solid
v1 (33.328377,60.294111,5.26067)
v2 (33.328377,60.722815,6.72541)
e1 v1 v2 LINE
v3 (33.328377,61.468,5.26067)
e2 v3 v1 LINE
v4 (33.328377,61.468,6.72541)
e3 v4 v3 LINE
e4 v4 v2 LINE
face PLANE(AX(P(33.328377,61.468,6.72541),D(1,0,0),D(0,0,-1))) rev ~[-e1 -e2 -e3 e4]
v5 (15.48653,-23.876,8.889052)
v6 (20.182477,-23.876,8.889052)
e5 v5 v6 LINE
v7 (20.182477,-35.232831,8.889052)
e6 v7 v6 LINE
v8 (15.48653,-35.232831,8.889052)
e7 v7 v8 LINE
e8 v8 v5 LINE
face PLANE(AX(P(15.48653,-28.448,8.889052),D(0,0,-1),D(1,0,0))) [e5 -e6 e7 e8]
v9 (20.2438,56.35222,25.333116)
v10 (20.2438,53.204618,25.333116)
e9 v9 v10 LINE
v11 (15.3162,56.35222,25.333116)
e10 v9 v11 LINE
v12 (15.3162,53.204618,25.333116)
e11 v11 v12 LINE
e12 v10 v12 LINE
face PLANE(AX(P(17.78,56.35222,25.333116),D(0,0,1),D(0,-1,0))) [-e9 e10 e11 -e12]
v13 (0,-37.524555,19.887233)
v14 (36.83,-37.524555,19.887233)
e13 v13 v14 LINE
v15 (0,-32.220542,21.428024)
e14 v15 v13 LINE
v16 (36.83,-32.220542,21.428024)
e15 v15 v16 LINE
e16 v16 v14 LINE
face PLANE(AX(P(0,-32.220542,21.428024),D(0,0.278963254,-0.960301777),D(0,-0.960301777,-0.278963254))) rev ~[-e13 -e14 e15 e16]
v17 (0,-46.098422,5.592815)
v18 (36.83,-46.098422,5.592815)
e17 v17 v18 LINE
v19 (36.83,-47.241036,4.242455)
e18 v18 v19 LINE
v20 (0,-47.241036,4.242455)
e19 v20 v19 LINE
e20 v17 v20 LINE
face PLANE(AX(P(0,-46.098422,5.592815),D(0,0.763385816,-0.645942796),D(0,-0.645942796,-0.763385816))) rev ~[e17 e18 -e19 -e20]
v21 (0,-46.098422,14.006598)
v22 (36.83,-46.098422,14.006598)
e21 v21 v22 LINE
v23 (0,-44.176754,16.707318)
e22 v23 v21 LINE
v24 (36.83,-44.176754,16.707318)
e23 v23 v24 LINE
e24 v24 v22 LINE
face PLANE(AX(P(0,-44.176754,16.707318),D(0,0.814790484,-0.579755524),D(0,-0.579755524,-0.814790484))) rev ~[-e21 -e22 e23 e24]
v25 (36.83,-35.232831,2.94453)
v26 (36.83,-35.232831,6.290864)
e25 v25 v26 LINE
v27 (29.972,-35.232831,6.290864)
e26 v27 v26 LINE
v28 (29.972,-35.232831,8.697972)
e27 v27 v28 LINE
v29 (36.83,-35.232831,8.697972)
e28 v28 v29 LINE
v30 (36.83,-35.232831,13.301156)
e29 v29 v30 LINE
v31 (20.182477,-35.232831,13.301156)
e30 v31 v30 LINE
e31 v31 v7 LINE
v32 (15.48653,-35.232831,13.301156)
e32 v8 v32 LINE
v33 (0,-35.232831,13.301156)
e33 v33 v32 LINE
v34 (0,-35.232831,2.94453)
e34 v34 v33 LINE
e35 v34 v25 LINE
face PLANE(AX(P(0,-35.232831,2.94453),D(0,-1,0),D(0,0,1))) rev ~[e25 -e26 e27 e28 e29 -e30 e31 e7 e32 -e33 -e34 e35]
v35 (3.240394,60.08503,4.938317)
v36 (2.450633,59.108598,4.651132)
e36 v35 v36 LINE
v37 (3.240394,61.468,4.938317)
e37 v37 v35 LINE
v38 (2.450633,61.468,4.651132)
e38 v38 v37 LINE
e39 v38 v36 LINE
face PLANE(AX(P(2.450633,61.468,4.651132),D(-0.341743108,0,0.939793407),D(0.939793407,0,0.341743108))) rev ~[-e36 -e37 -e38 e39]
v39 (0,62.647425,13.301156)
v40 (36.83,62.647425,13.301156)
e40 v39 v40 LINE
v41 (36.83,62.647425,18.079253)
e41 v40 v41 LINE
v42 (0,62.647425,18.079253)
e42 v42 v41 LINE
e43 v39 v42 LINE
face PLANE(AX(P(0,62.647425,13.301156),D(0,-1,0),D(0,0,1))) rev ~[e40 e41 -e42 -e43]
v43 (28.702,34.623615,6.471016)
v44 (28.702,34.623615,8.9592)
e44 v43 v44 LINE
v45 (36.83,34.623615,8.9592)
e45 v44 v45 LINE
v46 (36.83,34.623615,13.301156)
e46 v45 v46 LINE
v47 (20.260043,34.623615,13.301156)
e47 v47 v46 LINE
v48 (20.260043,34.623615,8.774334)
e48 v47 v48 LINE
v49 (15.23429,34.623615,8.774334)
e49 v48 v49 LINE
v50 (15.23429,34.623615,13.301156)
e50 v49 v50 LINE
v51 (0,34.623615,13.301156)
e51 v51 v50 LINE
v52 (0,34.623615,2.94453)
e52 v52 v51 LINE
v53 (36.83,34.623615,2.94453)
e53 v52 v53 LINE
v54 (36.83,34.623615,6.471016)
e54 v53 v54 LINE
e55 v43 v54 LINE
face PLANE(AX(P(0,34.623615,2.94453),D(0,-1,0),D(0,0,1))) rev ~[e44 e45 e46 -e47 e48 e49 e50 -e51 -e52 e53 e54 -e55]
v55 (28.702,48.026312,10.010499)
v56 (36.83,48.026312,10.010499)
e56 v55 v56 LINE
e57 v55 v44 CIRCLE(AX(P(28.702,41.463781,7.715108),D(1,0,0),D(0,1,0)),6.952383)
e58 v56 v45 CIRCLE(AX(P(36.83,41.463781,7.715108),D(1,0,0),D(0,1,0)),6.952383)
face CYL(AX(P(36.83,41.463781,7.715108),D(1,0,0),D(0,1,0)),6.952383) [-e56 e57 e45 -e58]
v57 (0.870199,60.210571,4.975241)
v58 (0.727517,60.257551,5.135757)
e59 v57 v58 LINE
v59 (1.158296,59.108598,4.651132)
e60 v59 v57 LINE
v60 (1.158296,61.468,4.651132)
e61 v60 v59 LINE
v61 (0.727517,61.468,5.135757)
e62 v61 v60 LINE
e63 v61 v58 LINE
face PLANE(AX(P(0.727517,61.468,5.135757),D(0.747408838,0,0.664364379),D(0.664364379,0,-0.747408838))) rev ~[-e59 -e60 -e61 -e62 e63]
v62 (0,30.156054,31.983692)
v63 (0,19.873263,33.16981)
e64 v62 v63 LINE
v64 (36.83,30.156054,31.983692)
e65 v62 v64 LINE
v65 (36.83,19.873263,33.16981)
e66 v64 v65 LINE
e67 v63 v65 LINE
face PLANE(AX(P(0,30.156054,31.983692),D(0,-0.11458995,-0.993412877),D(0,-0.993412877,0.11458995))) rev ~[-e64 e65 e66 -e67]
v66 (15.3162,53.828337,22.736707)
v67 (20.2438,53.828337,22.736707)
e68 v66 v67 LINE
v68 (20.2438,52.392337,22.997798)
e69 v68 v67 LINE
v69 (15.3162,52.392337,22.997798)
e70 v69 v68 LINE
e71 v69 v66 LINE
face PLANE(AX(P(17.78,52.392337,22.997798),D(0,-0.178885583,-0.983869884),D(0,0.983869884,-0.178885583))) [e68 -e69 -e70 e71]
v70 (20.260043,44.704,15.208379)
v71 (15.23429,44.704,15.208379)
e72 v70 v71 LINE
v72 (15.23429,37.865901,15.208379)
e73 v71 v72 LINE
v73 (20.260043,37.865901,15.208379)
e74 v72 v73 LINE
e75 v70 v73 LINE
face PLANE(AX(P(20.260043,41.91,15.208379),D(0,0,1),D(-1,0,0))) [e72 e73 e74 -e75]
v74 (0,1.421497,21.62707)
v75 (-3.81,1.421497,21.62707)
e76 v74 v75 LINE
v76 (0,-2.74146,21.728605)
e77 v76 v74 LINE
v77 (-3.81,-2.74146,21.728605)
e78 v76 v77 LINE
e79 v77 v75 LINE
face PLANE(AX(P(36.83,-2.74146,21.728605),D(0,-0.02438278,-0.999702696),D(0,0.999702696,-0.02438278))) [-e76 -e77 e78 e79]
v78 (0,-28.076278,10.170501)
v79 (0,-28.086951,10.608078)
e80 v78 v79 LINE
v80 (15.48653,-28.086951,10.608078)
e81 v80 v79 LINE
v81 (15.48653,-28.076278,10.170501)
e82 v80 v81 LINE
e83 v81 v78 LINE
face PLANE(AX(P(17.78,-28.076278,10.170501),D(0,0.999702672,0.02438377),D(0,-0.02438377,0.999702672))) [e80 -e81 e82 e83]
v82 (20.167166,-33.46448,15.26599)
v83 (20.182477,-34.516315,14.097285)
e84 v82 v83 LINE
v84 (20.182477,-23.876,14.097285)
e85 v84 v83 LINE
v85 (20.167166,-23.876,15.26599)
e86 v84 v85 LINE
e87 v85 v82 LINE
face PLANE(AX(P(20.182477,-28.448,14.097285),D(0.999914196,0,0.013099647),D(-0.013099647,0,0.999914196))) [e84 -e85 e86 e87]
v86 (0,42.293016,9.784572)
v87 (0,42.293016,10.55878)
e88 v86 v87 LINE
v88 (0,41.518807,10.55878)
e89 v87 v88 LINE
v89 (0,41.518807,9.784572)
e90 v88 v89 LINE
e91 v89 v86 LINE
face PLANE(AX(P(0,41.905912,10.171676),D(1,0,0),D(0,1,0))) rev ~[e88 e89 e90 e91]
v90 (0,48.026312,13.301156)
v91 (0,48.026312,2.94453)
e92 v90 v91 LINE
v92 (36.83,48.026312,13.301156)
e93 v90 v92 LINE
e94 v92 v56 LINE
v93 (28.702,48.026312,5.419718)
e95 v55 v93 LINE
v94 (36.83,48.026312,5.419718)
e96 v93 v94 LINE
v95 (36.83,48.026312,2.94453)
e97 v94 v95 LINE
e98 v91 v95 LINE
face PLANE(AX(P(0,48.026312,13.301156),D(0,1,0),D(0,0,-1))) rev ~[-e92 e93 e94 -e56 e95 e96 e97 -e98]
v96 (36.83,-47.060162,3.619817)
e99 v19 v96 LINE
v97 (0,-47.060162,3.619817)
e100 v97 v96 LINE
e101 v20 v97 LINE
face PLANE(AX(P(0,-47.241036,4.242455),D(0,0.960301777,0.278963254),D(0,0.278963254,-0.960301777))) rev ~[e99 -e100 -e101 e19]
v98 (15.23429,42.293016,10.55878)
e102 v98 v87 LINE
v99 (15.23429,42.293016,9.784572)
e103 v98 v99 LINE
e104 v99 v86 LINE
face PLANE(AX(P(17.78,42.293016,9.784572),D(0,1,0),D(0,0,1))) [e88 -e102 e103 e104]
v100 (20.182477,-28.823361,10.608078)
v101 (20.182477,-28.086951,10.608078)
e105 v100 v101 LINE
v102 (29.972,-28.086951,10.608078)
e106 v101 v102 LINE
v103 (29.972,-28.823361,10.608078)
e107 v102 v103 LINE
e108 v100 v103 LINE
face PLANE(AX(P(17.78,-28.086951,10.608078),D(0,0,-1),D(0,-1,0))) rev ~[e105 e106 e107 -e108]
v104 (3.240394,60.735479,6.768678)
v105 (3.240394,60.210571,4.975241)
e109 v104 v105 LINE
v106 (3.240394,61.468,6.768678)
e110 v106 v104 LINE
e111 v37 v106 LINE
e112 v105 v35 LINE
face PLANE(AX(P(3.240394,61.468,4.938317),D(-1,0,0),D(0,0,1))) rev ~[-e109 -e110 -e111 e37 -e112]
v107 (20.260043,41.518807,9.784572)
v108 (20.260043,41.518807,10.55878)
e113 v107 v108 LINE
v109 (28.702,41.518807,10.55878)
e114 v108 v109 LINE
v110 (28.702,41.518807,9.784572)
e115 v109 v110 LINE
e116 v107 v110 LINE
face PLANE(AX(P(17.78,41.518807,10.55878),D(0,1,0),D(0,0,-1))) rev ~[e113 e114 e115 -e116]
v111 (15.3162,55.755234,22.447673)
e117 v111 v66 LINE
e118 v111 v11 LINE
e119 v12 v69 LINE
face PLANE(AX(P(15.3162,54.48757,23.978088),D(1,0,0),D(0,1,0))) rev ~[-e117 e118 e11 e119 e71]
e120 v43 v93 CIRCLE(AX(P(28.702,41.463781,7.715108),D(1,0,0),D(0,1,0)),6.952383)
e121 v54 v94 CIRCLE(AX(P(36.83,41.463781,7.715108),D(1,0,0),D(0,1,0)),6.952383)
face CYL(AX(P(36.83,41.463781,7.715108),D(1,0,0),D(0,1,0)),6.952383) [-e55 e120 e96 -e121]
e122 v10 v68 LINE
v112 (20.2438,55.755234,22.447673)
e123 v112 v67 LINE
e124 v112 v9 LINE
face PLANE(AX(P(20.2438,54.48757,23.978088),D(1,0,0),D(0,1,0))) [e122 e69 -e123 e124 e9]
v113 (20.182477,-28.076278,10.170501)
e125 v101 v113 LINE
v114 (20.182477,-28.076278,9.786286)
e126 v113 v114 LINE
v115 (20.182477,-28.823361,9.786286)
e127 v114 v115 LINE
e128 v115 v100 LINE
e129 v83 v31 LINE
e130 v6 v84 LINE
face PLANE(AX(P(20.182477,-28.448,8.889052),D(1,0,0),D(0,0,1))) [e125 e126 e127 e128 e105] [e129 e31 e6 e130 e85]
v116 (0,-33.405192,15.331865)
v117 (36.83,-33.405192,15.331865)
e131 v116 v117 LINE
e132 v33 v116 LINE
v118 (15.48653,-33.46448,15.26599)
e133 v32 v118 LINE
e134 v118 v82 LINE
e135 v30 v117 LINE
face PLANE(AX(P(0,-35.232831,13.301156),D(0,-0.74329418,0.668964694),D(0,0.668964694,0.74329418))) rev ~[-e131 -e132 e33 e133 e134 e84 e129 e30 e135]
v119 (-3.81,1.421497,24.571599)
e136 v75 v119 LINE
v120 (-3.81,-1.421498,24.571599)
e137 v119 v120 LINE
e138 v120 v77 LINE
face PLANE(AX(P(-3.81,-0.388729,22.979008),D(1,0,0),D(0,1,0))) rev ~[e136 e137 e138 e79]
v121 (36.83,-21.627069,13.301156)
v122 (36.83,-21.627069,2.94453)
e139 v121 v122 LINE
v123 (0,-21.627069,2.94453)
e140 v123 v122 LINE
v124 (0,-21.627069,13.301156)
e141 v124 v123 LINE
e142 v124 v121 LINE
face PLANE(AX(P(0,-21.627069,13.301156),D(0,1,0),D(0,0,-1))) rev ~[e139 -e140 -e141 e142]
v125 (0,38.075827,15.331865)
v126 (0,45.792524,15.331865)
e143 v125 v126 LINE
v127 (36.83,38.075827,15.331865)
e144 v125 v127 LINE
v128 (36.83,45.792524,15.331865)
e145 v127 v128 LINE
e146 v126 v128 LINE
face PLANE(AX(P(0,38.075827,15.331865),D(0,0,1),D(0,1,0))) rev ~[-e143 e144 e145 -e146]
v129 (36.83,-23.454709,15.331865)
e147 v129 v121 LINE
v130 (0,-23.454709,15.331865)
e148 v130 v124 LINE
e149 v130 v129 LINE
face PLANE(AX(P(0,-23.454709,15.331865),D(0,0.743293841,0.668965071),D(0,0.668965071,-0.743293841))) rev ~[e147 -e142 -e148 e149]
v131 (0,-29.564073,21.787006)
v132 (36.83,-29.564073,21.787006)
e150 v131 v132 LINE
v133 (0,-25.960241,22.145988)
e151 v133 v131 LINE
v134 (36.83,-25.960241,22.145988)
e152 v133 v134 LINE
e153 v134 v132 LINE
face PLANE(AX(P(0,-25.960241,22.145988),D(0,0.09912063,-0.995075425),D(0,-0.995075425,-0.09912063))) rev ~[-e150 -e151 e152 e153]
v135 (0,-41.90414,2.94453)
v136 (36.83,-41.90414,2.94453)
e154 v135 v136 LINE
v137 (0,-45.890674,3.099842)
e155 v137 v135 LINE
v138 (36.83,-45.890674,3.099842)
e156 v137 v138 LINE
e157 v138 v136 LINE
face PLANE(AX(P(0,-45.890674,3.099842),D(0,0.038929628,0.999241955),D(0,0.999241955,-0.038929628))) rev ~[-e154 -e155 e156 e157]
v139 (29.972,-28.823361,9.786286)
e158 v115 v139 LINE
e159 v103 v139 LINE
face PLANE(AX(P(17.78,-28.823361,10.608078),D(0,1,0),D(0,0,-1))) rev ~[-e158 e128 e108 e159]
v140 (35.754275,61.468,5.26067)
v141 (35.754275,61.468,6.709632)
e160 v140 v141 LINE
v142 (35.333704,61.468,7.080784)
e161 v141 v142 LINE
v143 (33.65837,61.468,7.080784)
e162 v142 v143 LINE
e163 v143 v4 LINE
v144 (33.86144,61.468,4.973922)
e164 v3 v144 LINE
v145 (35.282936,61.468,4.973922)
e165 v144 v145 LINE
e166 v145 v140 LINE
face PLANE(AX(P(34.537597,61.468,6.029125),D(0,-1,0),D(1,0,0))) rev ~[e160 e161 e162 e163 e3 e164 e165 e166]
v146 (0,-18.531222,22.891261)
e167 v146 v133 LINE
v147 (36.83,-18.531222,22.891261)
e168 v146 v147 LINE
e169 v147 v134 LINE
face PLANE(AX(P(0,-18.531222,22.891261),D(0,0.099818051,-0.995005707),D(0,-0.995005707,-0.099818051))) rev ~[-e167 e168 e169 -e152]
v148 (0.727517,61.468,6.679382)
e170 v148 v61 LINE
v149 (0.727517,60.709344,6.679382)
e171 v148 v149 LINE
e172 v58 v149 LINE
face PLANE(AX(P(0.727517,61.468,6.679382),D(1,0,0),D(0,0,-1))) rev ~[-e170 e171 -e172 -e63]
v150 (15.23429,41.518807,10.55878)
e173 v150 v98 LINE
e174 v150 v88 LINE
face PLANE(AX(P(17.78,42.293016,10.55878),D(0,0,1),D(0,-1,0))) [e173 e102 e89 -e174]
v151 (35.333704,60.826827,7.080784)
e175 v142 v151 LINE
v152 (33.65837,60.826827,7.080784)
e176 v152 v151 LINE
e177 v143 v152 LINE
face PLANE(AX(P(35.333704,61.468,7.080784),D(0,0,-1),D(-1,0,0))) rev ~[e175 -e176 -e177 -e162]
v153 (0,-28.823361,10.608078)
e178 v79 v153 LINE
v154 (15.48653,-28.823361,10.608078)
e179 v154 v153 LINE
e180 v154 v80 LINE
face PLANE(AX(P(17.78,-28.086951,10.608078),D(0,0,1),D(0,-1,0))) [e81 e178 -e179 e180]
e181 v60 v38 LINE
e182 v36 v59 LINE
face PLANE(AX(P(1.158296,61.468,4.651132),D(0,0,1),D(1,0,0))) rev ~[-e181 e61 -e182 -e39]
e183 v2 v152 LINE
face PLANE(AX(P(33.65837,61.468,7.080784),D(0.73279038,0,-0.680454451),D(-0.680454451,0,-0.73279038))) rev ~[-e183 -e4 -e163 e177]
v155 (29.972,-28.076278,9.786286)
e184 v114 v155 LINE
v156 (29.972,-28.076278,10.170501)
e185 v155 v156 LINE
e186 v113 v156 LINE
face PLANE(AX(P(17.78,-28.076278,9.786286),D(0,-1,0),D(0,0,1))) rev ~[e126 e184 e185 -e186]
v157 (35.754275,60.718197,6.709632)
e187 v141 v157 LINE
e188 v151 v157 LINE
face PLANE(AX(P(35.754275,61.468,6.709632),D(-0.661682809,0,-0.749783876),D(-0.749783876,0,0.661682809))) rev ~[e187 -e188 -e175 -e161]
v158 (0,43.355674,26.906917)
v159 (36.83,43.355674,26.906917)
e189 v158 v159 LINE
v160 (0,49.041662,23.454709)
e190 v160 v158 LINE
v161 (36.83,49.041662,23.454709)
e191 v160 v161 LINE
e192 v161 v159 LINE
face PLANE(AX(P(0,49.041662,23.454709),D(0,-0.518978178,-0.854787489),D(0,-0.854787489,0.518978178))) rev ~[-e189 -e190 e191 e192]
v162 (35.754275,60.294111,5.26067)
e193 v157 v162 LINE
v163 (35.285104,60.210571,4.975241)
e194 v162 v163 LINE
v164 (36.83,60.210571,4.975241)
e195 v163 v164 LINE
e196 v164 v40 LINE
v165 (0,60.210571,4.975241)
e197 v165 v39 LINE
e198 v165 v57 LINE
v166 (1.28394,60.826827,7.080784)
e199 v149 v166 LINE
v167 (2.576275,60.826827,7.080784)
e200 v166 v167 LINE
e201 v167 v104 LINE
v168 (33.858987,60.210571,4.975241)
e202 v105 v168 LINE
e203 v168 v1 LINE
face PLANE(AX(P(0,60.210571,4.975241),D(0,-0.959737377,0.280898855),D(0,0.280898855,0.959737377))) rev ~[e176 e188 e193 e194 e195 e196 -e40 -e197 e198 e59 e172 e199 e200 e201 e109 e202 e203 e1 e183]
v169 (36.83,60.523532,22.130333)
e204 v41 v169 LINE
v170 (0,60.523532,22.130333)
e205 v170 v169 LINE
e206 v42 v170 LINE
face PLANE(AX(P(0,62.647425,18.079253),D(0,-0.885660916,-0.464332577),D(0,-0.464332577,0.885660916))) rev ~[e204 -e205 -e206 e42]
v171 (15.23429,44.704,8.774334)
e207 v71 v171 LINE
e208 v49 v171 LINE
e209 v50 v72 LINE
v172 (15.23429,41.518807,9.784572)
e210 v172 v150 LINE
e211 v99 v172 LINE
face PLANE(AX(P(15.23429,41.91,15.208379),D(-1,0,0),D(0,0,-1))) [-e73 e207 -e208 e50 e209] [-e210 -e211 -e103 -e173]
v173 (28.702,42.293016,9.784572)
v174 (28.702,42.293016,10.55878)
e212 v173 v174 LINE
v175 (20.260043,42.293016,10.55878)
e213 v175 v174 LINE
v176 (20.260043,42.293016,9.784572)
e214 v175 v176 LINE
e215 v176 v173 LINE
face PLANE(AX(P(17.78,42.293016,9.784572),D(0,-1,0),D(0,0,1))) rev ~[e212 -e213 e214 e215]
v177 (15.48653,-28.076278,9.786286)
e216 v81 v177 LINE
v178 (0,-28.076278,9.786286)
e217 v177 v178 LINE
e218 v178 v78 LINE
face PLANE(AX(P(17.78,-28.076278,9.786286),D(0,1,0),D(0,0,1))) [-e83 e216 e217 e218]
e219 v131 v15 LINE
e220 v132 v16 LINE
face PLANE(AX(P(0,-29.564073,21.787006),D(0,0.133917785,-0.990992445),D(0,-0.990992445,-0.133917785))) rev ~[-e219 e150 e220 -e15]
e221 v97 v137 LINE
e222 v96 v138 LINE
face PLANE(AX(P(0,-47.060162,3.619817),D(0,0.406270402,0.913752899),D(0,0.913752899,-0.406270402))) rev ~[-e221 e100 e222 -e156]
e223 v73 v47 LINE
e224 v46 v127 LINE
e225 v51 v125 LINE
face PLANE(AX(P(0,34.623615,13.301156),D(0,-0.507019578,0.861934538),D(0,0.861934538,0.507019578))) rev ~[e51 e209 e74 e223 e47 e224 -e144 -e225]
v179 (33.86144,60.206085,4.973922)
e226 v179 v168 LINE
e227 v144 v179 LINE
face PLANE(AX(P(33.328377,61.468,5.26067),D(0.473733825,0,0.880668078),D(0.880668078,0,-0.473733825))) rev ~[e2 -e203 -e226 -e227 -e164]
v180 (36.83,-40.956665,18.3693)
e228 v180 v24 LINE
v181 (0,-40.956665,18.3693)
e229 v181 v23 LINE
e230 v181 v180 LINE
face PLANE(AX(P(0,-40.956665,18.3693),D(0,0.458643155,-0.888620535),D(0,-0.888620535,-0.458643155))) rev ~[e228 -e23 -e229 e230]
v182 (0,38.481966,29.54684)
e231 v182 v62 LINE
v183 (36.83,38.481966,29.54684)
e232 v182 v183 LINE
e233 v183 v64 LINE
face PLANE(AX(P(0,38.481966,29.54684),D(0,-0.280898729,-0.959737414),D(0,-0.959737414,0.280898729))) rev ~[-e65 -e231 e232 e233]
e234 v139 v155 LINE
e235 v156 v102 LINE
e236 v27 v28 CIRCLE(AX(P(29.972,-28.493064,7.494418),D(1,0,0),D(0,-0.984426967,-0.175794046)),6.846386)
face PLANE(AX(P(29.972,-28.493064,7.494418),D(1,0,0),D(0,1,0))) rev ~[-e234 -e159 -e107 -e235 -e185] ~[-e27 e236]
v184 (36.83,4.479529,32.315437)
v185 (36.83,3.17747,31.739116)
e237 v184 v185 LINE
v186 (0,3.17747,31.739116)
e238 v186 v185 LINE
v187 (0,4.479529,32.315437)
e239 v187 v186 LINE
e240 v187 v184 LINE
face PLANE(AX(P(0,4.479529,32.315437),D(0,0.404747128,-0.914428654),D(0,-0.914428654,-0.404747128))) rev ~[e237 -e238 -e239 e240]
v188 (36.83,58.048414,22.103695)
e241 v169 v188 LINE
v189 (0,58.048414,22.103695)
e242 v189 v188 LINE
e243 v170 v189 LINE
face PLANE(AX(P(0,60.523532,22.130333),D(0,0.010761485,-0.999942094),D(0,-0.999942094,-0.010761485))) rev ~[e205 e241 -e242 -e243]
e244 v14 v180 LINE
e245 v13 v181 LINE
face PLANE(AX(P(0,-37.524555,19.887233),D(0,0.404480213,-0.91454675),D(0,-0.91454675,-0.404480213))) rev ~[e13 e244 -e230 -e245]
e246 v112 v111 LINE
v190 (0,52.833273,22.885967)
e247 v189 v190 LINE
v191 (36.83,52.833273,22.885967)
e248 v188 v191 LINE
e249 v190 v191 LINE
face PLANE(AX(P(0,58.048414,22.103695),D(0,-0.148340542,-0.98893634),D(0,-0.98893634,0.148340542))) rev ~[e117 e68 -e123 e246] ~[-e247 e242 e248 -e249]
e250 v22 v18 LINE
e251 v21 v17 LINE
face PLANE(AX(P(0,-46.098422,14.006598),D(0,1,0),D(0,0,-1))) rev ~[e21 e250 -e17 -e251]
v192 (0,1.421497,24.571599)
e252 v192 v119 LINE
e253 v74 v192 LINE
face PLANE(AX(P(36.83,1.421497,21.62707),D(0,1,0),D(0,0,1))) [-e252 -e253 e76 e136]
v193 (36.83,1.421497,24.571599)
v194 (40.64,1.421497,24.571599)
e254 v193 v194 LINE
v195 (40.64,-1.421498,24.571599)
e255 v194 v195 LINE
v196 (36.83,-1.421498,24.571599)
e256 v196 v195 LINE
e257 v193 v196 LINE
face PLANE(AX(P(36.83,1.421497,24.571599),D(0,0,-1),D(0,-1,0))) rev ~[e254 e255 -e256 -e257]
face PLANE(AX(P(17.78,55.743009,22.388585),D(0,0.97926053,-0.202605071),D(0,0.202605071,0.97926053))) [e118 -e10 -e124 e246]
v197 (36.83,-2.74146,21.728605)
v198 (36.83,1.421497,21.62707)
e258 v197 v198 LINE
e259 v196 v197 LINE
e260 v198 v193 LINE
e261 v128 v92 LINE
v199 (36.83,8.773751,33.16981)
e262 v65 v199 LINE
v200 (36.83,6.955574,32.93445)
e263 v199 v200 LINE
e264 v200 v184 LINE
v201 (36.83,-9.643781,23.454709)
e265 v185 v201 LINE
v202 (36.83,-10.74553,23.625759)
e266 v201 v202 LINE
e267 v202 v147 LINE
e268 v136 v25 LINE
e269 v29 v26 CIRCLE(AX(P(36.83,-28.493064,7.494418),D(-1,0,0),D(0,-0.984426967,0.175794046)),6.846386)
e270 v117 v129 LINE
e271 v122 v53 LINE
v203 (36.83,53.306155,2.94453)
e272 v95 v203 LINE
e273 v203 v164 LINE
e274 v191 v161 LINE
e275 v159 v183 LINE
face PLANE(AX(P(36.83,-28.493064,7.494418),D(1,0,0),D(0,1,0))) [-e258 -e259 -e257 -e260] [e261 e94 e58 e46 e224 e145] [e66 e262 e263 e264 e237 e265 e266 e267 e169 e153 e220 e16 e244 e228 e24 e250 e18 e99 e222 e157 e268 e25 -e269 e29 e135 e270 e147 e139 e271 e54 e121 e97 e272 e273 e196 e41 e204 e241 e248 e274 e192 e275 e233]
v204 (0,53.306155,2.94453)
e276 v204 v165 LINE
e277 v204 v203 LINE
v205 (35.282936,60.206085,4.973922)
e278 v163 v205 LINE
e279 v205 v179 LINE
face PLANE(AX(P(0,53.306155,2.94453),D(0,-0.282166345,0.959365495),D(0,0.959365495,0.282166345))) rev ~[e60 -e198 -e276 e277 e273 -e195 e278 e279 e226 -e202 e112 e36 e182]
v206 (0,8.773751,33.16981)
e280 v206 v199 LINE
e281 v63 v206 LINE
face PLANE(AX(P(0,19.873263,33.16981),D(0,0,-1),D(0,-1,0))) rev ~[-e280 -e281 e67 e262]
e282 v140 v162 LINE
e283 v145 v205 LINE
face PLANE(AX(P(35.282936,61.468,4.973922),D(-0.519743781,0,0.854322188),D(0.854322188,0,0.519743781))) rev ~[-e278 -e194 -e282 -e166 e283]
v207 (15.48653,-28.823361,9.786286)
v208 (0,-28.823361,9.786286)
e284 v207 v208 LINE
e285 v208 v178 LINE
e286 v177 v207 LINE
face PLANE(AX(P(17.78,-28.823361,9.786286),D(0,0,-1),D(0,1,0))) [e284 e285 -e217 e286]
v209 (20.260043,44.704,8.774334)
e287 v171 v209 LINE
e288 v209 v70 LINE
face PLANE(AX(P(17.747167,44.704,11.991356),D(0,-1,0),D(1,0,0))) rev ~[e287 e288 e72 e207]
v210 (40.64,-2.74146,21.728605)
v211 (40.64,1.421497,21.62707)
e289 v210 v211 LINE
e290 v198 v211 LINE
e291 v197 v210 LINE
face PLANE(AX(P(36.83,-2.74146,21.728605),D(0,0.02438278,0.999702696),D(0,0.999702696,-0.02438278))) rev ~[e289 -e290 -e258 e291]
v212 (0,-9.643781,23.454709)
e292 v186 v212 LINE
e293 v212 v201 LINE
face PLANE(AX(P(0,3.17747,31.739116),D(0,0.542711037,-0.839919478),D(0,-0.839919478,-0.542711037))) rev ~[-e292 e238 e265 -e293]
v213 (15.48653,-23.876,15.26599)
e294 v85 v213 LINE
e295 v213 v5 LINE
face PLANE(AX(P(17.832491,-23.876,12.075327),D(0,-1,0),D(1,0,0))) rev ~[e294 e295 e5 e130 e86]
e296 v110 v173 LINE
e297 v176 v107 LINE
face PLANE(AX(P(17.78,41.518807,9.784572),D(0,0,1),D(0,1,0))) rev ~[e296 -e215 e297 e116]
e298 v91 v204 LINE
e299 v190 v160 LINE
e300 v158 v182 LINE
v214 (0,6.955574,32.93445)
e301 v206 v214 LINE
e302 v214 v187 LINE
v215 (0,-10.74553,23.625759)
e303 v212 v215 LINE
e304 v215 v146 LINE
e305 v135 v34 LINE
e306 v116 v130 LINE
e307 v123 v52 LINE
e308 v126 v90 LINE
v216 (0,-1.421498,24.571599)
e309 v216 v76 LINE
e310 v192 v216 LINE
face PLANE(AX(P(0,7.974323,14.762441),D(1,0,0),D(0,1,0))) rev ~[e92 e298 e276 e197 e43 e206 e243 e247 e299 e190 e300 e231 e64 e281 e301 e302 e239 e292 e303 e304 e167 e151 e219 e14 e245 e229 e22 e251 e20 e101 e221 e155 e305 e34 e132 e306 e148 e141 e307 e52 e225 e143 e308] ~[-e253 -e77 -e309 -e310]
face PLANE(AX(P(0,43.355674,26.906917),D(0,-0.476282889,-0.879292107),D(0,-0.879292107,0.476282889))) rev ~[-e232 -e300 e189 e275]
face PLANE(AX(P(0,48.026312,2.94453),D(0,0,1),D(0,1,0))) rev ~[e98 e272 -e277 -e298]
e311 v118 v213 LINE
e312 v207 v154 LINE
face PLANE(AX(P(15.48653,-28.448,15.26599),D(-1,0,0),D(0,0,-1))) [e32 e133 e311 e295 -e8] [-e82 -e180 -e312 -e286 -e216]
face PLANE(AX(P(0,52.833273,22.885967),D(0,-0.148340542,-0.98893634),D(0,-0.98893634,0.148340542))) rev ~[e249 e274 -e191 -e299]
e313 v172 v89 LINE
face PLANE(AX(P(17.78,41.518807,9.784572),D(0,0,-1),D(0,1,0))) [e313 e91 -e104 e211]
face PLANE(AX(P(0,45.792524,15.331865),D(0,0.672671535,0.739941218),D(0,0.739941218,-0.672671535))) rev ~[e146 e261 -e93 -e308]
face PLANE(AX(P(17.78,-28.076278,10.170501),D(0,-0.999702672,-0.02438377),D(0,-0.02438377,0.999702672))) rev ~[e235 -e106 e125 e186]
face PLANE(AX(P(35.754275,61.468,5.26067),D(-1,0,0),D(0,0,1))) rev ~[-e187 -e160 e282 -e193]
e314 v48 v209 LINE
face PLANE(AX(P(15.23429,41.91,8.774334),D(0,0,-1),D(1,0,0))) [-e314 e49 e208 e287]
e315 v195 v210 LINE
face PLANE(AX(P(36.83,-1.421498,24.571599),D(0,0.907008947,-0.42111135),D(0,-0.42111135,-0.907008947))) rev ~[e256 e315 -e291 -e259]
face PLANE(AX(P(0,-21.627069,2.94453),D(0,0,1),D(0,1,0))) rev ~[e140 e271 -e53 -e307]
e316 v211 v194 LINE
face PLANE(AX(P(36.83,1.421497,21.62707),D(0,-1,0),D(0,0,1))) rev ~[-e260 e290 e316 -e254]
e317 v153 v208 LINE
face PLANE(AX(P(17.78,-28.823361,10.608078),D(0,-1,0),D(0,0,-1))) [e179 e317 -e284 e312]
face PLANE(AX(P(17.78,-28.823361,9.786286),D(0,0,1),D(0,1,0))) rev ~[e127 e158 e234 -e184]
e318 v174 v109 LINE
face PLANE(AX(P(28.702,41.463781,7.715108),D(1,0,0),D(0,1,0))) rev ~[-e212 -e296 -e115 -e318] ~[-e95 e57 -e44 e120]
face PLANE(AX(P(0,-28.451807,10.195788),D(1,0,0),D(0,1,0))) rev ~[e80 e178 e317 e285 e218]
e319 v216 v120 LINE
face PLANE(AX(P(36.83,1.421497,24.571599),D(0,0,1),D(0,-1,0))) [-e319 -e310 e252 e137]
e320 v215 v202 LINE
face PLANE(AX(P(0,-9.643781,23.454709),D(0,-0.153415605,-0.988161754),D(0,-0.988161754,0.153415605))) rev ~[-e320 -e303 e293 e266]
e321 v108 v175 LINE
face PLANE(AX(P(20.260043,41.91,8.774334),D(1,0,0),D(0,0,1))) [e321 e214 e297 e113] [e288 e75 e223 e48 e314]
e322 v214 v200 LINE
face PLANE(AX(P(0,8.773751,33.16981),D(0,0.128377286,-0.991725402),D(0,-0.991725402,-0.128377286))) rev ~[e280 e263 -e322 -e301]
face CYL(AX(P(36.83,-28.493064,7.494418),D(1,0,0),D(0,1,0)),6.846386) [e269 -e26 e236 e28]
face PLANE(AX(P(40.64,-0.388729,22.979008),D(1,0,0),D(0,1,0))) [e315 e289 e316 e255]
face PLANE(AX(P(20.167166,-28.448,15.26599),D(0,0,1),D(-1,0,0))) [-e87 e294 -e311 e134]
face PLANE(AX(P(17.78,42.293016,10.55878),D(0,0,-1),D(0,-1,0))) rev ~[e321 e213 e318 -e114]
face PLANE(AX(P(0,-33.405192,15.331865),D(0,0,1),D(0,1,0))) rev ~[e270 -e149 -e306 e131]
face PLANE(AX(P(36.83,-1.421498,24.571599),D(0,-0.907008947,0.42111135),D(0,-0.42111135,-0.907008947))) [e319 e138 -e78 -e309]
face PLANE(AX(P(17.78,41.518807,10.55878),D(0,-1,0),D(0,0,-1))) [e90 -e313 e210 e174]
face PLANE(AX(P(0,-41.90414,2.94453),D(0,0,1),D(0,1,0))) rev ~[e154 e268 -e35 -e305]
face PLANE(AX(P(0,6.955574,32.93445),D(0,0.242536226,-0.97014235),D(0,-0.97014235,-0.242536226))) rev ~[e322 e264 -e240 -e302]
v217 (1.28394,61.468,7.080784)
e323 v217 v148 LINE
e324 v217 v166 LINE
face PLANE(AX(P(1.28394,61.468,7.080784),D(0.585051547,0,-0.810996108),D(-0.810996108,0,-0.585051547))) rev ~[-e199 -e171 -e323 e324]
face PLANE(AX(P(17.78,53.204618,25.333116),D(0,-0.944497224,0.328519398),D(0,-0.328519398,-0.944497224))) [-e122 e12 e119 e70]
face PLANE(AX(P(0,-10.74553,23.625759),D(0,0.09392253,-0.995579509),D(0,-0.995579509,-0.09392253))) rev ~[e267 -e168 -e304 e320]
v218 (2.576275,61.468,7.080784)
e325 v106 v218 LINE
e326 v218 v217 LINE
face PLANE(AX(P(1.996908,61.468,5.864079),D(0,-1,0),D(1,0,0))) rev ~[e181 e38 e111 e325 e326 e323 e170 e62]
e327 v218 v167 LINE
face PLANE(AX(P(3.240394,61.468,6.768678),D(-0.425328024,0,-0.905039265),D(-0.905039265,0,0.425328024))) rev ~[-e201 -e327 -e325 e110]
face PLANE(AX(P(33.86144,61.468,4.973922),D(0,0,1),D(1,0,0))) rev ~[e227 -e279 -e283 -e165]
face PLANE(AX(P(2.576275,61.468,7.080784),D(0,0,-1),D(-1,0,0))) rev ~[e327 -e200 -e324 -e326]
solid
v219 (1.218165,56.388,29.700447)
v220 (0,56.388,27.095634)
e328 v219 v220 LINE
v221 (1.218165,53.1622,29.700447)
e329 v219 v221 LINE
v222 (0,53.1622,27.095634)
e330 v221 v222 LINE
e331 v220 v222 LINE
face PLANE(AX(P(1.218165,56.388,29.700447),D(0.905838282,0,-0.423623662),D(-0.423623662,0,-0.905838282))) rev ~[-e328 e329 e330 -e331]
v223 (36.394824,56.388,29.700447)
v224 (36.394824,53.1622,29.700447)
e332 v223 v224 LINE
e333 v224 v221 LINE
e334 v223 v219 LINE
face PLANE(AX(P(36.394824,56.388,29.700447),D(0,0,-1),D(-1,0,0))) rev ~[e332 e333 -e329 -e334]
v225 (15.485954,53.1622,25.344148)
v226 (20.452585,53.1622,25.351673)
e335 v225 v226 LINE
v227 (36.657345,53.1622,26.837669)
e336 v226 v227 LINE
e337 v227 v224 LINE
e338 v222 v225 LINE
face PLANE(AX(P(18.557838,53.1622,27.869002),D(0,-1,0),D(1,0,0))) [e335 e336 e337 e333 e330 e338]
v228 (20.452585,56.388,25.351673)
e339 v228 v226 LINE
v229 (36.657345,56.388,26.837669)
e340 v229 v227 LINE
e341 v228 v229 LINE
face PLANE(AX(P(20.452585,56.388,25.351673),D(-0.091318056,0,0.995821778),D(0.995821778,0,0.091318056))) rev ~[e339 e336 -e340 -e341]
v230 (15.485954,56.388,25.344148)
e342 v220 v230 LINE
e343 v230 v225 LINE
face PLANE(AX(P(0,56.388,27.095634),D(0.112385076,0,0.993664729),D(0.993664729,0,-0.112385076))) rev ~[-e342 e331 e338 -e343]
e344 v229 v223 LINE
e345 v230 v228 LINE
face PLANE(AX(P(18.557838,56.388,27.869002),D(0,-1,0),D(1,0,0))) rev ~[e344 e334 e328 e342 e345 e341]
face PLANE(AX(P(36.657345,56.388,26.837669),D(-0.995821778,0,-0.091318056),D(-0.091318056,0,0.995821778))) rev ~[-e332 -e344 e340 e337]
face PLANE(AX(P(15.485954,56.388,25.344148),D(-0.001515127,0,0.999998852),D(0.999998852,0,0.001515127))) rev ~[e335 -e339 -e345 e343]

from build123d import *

# Parameters (mm, degrees)
F1_DEPTH       = 36.83
F1_FACE_W      = 36.83
F1_FACE_H      = 5.5427631503
F4_DEPTH       = 3.2258
F7_DEPTH       = 2.4638
F7_DEPTH_BACK  = 2.4638
F10_DEPTH      = 3.81
F10_DEPTH_BACK = 40.64
F13_DEPTH      = 7.366
F13_DEPTH_BACK = 2.794
F16_DEPTH      = 7.366
F16_DEPTH_BACK = 4.572
F18_DEPTH      = 19.05
F18_DEPTH_BACK = 17.78
F20_DEPTH      = 19.05
F20_DEPTH_BACK = 17.78
F23_DEPTH      = 3.2004
F24_R          = 6.8463862677
F25_DEPTH      = 6.858
F26_R          = 6.9523831829
F27_DEPTH      = 8.128


with BuildPart() as f1:
    # F0 (on Right) → F1 (new body)
    with BuildSketch(Plane.YZ):
        Polygon((48.0263121426, 2.9445304535), (53.3061549067, 2.9445304535), (60.210570693, 4.9752411433), (62.6474246383, 13.3011555299), (62.6474246383, 18.0792529136), (60.523532331, 22.1303328872), (58.04841407, 22.1036953967), (52.8332734047, 22.8859669748), (49.0416623652, 23.4547089785), (43.3556735516, 26.9069168717), (38.481965661, 29.5468401164), (30.1560536027, 31.983692199), (19.8732633144, 33.1698097289), (8.7737506256, 33.1698097289), (6.955573801, 32.9344496131), (4.4795288704, 32.3154367507), (3.1774702948, 31.739115715), (-9.6437809989, 23.4547089785), (-10.7455300167, 23.6257594079), (-18.5312218964, 22.8912606835), (-25.9602405131, 22.1459884197), (-29.5640733093, 21.787006408), (-32.2205424309, 21.4280243963), (-37.5245548785, 19.887233153), (-40.9566648304, 18.3693002909), (-44.1767536104, 16.7073179036), (-46.0984222591, 14.0065979213), (-46.0984222591, 7.6183550991), (-46.0984222591, 5.5928146467), (-47.2410358489, 4.2424551211), (-47.0601624299, 3.6198173241), (-45.890673995, 3.0998424627), (-41.9041402638, 2.9445304535), (-39.671524707, 2.9445304535), (-35.2328307927, 2.9445304535), (-35.2328307927, 13.3011555299), (-33.4051921964, 15.3318652883), (-23.4547089785, 15.3318652883), (-21.6270685196, 13.3011555299), (-21.6270685196, 2.9445304535), (34.6236154437, 2.9445304535), (34.6236154437, 13.3011555299), (38.0758270621, 15.3318652883), (45.7925237715, 15.3318652883), (48.0263121426, 13.3011555299), align=None)
    extrude(amount=F1_DEPTH)

    # F3 (on offset) + F1_face (on face) → F4 (join)
    with BuildSketch(Plane.XZ.offset(-56.388)):
        Polygon((15.4859535396, 25.3441482782), (20.4525850713, 25.3516733646), (36.6573445499, 26.837669313), (36.3948243914, 29.700446989), (1.2181646889, 29.700446989), (0, 27.0956344903), align=None)
    with BuildSketch(Plane(origin=(18.415, 40.9188196063, 28.226878494), x_dir=(-1, 0, 0), z_dir=(0, 0.4762828887, 0.8792921073))):
        Rectangle(F1_FACE_W, F1_FACE_H)
    extrude(amount=F4_DEPTH, dir=(0, -1, 0))

    # F6 (on offset) → F7 (join, two sides)
    with BuildSketch(Plane.YZ.offset(17.78)) as f7_sk:
        Polygon((53.2046183944, 25.333115831), (52.3923374712, 22.9977983981), (55.743008852, 22.3885849118), (56.3522204757, 25.333115831), align=None)
    extrude(amount=F7_DEPTH)
    extrude(f7_sk.sketch, amount=-F7_DEPTH_BACK)

    # F9 (on offset) → F10 (join, two sides)
    with BuildSketch(Plane.YZ.offset(36.83)) as f10_sk:
        Polygon((-1.4214976691, 24.5715994388), (-2.7414595243, 21.728605032), (1.4214974362, 21.6270703822), (1.4214974362, 24.5715994388), align=None)
    extrude(amount=F10_DEPTH)
    extrude(f10_sk.sketch, amount=-F10_DEPTH_BACK)

    # F12 (on offset) → F13 (join, two sides)
    with BuildSketch(Plane.XZ.offset(-41.91)) as f13_sk:
        Polygon((20.2600434422, 8.7743336335), (20.2600434422, 9.910594672), (20.2600434422, 15.2083793655), (15.2342896909, 15.2083793655), (15.2342896909, 9.910594672), (15.2342896909, 8.7743336335), align=None)
    extrude(amount=F13_DEPTH)
    extrude(f13_sk.sketch, amount=-F13_DEPTH_BACK)

    # F15 (on offset) → F16 (join, two sides)
    with BuildSketch(Plane.XZ.offset(28.448)) as f16_sk:
        Polygon((20.1824773103, 8.8890520856), (20.1824773103, 14.0972845256), (20.1671663672, 15.2659900486), (15.4865300283, 15.2659900486), (15.4865300283, 14.0972845256), (15.4865300283, 8.8890520856), align=None)
    extrude(amount=F16_DEPTH)
    extrude(f16_sk.sketch, amount=-F16_DEPTH_BACK)

    # F17 (on offset) → F18 (join, two sides)
    with BuildSketch(Plane.YZ.offset(17.78)) as f18_sk:
        Polygon((-28.0869510025, 10.6080779806), (-28.4391473979, 10.6080779806), (-28.8233608007, 10.6080779806), (-28.8233608007, 10.1705007255), (-28.8233608007, 9.7862863913), (-28.4498203546, 9.7862863913), (-28.0762780458, 9.7862863913), (-28.0762780458, 10.1705007255), align=None)
    extrude(amount=F18_DEPTH)
    extrude(f18_sk.sketch, amount=-F18_DEPTH_BACK)

    # F19 (on offset) → F20 (join, two sides)
    with BuildSketch(Plane.YZ.offset(17.78)) as f20_sk:
        Polygon((42.2930158675, 10.5587802827), (41.8995656073, 10.5587802827), (41.5188074112, 10.5587802827), (41.5188074112, 9.7845718265), (41.8995656073, 9.7845718265), (42.2930158675, 9.7845718265), (42.2930158675, 10.1780220866), align=None)
    extrude(amount=F20_DEPTH)
    extrude(f20_sk.sketch, amount=-F20_DEPTH_BACK)

    # F22 (on offset) → F23 (join)
    with BuildSketch(Plane.XZ.offset(-61.468)):
        Polygon((35.7542745769, 5.260670092), (35.7542745769, 6.7096315324), (35.3337042034, 7.0807840675), (33.6583703756, 7.0807840675), (33.3283767104, 6.7254095338), (33.3283767104, 5.260670092), (33.8614396751, 4.9739219248), (35.2829359472, 4.9739219248), align=None)
        Polygon((3.2403937075, 4.9383174628), (3.2403937075, 6.768678176), (2.5762754958, 7.0807840675), (1.283939695, 7.0807840675), (0.7275173557, 6.6793817095), (0.7275173557, 5.135757383), (1.1582964798, 4.6511315741), (2.4506326299, 4.6511315741), align=None)
    extrude(amount=F23_DEPTH)

    # F24 (on offset) → F25 (join)
    with BuildSketch(Plane.YZ.offset(36.83)):
        with Locations((-28.4930635244, 7.4944184162)):
            Circle(F24_R)
    extrude(amount=-F25_DEPTH)

    # F26 (on offset) → F27 (join)
    with BuildSketch(Plane.YZ.offset(36.83)):
        with Locations((41.4637811482, 7.7151083387)):
            Circle(F26_R)
    extrude(amount=-F27_DEPTH)


solid = f1.part
